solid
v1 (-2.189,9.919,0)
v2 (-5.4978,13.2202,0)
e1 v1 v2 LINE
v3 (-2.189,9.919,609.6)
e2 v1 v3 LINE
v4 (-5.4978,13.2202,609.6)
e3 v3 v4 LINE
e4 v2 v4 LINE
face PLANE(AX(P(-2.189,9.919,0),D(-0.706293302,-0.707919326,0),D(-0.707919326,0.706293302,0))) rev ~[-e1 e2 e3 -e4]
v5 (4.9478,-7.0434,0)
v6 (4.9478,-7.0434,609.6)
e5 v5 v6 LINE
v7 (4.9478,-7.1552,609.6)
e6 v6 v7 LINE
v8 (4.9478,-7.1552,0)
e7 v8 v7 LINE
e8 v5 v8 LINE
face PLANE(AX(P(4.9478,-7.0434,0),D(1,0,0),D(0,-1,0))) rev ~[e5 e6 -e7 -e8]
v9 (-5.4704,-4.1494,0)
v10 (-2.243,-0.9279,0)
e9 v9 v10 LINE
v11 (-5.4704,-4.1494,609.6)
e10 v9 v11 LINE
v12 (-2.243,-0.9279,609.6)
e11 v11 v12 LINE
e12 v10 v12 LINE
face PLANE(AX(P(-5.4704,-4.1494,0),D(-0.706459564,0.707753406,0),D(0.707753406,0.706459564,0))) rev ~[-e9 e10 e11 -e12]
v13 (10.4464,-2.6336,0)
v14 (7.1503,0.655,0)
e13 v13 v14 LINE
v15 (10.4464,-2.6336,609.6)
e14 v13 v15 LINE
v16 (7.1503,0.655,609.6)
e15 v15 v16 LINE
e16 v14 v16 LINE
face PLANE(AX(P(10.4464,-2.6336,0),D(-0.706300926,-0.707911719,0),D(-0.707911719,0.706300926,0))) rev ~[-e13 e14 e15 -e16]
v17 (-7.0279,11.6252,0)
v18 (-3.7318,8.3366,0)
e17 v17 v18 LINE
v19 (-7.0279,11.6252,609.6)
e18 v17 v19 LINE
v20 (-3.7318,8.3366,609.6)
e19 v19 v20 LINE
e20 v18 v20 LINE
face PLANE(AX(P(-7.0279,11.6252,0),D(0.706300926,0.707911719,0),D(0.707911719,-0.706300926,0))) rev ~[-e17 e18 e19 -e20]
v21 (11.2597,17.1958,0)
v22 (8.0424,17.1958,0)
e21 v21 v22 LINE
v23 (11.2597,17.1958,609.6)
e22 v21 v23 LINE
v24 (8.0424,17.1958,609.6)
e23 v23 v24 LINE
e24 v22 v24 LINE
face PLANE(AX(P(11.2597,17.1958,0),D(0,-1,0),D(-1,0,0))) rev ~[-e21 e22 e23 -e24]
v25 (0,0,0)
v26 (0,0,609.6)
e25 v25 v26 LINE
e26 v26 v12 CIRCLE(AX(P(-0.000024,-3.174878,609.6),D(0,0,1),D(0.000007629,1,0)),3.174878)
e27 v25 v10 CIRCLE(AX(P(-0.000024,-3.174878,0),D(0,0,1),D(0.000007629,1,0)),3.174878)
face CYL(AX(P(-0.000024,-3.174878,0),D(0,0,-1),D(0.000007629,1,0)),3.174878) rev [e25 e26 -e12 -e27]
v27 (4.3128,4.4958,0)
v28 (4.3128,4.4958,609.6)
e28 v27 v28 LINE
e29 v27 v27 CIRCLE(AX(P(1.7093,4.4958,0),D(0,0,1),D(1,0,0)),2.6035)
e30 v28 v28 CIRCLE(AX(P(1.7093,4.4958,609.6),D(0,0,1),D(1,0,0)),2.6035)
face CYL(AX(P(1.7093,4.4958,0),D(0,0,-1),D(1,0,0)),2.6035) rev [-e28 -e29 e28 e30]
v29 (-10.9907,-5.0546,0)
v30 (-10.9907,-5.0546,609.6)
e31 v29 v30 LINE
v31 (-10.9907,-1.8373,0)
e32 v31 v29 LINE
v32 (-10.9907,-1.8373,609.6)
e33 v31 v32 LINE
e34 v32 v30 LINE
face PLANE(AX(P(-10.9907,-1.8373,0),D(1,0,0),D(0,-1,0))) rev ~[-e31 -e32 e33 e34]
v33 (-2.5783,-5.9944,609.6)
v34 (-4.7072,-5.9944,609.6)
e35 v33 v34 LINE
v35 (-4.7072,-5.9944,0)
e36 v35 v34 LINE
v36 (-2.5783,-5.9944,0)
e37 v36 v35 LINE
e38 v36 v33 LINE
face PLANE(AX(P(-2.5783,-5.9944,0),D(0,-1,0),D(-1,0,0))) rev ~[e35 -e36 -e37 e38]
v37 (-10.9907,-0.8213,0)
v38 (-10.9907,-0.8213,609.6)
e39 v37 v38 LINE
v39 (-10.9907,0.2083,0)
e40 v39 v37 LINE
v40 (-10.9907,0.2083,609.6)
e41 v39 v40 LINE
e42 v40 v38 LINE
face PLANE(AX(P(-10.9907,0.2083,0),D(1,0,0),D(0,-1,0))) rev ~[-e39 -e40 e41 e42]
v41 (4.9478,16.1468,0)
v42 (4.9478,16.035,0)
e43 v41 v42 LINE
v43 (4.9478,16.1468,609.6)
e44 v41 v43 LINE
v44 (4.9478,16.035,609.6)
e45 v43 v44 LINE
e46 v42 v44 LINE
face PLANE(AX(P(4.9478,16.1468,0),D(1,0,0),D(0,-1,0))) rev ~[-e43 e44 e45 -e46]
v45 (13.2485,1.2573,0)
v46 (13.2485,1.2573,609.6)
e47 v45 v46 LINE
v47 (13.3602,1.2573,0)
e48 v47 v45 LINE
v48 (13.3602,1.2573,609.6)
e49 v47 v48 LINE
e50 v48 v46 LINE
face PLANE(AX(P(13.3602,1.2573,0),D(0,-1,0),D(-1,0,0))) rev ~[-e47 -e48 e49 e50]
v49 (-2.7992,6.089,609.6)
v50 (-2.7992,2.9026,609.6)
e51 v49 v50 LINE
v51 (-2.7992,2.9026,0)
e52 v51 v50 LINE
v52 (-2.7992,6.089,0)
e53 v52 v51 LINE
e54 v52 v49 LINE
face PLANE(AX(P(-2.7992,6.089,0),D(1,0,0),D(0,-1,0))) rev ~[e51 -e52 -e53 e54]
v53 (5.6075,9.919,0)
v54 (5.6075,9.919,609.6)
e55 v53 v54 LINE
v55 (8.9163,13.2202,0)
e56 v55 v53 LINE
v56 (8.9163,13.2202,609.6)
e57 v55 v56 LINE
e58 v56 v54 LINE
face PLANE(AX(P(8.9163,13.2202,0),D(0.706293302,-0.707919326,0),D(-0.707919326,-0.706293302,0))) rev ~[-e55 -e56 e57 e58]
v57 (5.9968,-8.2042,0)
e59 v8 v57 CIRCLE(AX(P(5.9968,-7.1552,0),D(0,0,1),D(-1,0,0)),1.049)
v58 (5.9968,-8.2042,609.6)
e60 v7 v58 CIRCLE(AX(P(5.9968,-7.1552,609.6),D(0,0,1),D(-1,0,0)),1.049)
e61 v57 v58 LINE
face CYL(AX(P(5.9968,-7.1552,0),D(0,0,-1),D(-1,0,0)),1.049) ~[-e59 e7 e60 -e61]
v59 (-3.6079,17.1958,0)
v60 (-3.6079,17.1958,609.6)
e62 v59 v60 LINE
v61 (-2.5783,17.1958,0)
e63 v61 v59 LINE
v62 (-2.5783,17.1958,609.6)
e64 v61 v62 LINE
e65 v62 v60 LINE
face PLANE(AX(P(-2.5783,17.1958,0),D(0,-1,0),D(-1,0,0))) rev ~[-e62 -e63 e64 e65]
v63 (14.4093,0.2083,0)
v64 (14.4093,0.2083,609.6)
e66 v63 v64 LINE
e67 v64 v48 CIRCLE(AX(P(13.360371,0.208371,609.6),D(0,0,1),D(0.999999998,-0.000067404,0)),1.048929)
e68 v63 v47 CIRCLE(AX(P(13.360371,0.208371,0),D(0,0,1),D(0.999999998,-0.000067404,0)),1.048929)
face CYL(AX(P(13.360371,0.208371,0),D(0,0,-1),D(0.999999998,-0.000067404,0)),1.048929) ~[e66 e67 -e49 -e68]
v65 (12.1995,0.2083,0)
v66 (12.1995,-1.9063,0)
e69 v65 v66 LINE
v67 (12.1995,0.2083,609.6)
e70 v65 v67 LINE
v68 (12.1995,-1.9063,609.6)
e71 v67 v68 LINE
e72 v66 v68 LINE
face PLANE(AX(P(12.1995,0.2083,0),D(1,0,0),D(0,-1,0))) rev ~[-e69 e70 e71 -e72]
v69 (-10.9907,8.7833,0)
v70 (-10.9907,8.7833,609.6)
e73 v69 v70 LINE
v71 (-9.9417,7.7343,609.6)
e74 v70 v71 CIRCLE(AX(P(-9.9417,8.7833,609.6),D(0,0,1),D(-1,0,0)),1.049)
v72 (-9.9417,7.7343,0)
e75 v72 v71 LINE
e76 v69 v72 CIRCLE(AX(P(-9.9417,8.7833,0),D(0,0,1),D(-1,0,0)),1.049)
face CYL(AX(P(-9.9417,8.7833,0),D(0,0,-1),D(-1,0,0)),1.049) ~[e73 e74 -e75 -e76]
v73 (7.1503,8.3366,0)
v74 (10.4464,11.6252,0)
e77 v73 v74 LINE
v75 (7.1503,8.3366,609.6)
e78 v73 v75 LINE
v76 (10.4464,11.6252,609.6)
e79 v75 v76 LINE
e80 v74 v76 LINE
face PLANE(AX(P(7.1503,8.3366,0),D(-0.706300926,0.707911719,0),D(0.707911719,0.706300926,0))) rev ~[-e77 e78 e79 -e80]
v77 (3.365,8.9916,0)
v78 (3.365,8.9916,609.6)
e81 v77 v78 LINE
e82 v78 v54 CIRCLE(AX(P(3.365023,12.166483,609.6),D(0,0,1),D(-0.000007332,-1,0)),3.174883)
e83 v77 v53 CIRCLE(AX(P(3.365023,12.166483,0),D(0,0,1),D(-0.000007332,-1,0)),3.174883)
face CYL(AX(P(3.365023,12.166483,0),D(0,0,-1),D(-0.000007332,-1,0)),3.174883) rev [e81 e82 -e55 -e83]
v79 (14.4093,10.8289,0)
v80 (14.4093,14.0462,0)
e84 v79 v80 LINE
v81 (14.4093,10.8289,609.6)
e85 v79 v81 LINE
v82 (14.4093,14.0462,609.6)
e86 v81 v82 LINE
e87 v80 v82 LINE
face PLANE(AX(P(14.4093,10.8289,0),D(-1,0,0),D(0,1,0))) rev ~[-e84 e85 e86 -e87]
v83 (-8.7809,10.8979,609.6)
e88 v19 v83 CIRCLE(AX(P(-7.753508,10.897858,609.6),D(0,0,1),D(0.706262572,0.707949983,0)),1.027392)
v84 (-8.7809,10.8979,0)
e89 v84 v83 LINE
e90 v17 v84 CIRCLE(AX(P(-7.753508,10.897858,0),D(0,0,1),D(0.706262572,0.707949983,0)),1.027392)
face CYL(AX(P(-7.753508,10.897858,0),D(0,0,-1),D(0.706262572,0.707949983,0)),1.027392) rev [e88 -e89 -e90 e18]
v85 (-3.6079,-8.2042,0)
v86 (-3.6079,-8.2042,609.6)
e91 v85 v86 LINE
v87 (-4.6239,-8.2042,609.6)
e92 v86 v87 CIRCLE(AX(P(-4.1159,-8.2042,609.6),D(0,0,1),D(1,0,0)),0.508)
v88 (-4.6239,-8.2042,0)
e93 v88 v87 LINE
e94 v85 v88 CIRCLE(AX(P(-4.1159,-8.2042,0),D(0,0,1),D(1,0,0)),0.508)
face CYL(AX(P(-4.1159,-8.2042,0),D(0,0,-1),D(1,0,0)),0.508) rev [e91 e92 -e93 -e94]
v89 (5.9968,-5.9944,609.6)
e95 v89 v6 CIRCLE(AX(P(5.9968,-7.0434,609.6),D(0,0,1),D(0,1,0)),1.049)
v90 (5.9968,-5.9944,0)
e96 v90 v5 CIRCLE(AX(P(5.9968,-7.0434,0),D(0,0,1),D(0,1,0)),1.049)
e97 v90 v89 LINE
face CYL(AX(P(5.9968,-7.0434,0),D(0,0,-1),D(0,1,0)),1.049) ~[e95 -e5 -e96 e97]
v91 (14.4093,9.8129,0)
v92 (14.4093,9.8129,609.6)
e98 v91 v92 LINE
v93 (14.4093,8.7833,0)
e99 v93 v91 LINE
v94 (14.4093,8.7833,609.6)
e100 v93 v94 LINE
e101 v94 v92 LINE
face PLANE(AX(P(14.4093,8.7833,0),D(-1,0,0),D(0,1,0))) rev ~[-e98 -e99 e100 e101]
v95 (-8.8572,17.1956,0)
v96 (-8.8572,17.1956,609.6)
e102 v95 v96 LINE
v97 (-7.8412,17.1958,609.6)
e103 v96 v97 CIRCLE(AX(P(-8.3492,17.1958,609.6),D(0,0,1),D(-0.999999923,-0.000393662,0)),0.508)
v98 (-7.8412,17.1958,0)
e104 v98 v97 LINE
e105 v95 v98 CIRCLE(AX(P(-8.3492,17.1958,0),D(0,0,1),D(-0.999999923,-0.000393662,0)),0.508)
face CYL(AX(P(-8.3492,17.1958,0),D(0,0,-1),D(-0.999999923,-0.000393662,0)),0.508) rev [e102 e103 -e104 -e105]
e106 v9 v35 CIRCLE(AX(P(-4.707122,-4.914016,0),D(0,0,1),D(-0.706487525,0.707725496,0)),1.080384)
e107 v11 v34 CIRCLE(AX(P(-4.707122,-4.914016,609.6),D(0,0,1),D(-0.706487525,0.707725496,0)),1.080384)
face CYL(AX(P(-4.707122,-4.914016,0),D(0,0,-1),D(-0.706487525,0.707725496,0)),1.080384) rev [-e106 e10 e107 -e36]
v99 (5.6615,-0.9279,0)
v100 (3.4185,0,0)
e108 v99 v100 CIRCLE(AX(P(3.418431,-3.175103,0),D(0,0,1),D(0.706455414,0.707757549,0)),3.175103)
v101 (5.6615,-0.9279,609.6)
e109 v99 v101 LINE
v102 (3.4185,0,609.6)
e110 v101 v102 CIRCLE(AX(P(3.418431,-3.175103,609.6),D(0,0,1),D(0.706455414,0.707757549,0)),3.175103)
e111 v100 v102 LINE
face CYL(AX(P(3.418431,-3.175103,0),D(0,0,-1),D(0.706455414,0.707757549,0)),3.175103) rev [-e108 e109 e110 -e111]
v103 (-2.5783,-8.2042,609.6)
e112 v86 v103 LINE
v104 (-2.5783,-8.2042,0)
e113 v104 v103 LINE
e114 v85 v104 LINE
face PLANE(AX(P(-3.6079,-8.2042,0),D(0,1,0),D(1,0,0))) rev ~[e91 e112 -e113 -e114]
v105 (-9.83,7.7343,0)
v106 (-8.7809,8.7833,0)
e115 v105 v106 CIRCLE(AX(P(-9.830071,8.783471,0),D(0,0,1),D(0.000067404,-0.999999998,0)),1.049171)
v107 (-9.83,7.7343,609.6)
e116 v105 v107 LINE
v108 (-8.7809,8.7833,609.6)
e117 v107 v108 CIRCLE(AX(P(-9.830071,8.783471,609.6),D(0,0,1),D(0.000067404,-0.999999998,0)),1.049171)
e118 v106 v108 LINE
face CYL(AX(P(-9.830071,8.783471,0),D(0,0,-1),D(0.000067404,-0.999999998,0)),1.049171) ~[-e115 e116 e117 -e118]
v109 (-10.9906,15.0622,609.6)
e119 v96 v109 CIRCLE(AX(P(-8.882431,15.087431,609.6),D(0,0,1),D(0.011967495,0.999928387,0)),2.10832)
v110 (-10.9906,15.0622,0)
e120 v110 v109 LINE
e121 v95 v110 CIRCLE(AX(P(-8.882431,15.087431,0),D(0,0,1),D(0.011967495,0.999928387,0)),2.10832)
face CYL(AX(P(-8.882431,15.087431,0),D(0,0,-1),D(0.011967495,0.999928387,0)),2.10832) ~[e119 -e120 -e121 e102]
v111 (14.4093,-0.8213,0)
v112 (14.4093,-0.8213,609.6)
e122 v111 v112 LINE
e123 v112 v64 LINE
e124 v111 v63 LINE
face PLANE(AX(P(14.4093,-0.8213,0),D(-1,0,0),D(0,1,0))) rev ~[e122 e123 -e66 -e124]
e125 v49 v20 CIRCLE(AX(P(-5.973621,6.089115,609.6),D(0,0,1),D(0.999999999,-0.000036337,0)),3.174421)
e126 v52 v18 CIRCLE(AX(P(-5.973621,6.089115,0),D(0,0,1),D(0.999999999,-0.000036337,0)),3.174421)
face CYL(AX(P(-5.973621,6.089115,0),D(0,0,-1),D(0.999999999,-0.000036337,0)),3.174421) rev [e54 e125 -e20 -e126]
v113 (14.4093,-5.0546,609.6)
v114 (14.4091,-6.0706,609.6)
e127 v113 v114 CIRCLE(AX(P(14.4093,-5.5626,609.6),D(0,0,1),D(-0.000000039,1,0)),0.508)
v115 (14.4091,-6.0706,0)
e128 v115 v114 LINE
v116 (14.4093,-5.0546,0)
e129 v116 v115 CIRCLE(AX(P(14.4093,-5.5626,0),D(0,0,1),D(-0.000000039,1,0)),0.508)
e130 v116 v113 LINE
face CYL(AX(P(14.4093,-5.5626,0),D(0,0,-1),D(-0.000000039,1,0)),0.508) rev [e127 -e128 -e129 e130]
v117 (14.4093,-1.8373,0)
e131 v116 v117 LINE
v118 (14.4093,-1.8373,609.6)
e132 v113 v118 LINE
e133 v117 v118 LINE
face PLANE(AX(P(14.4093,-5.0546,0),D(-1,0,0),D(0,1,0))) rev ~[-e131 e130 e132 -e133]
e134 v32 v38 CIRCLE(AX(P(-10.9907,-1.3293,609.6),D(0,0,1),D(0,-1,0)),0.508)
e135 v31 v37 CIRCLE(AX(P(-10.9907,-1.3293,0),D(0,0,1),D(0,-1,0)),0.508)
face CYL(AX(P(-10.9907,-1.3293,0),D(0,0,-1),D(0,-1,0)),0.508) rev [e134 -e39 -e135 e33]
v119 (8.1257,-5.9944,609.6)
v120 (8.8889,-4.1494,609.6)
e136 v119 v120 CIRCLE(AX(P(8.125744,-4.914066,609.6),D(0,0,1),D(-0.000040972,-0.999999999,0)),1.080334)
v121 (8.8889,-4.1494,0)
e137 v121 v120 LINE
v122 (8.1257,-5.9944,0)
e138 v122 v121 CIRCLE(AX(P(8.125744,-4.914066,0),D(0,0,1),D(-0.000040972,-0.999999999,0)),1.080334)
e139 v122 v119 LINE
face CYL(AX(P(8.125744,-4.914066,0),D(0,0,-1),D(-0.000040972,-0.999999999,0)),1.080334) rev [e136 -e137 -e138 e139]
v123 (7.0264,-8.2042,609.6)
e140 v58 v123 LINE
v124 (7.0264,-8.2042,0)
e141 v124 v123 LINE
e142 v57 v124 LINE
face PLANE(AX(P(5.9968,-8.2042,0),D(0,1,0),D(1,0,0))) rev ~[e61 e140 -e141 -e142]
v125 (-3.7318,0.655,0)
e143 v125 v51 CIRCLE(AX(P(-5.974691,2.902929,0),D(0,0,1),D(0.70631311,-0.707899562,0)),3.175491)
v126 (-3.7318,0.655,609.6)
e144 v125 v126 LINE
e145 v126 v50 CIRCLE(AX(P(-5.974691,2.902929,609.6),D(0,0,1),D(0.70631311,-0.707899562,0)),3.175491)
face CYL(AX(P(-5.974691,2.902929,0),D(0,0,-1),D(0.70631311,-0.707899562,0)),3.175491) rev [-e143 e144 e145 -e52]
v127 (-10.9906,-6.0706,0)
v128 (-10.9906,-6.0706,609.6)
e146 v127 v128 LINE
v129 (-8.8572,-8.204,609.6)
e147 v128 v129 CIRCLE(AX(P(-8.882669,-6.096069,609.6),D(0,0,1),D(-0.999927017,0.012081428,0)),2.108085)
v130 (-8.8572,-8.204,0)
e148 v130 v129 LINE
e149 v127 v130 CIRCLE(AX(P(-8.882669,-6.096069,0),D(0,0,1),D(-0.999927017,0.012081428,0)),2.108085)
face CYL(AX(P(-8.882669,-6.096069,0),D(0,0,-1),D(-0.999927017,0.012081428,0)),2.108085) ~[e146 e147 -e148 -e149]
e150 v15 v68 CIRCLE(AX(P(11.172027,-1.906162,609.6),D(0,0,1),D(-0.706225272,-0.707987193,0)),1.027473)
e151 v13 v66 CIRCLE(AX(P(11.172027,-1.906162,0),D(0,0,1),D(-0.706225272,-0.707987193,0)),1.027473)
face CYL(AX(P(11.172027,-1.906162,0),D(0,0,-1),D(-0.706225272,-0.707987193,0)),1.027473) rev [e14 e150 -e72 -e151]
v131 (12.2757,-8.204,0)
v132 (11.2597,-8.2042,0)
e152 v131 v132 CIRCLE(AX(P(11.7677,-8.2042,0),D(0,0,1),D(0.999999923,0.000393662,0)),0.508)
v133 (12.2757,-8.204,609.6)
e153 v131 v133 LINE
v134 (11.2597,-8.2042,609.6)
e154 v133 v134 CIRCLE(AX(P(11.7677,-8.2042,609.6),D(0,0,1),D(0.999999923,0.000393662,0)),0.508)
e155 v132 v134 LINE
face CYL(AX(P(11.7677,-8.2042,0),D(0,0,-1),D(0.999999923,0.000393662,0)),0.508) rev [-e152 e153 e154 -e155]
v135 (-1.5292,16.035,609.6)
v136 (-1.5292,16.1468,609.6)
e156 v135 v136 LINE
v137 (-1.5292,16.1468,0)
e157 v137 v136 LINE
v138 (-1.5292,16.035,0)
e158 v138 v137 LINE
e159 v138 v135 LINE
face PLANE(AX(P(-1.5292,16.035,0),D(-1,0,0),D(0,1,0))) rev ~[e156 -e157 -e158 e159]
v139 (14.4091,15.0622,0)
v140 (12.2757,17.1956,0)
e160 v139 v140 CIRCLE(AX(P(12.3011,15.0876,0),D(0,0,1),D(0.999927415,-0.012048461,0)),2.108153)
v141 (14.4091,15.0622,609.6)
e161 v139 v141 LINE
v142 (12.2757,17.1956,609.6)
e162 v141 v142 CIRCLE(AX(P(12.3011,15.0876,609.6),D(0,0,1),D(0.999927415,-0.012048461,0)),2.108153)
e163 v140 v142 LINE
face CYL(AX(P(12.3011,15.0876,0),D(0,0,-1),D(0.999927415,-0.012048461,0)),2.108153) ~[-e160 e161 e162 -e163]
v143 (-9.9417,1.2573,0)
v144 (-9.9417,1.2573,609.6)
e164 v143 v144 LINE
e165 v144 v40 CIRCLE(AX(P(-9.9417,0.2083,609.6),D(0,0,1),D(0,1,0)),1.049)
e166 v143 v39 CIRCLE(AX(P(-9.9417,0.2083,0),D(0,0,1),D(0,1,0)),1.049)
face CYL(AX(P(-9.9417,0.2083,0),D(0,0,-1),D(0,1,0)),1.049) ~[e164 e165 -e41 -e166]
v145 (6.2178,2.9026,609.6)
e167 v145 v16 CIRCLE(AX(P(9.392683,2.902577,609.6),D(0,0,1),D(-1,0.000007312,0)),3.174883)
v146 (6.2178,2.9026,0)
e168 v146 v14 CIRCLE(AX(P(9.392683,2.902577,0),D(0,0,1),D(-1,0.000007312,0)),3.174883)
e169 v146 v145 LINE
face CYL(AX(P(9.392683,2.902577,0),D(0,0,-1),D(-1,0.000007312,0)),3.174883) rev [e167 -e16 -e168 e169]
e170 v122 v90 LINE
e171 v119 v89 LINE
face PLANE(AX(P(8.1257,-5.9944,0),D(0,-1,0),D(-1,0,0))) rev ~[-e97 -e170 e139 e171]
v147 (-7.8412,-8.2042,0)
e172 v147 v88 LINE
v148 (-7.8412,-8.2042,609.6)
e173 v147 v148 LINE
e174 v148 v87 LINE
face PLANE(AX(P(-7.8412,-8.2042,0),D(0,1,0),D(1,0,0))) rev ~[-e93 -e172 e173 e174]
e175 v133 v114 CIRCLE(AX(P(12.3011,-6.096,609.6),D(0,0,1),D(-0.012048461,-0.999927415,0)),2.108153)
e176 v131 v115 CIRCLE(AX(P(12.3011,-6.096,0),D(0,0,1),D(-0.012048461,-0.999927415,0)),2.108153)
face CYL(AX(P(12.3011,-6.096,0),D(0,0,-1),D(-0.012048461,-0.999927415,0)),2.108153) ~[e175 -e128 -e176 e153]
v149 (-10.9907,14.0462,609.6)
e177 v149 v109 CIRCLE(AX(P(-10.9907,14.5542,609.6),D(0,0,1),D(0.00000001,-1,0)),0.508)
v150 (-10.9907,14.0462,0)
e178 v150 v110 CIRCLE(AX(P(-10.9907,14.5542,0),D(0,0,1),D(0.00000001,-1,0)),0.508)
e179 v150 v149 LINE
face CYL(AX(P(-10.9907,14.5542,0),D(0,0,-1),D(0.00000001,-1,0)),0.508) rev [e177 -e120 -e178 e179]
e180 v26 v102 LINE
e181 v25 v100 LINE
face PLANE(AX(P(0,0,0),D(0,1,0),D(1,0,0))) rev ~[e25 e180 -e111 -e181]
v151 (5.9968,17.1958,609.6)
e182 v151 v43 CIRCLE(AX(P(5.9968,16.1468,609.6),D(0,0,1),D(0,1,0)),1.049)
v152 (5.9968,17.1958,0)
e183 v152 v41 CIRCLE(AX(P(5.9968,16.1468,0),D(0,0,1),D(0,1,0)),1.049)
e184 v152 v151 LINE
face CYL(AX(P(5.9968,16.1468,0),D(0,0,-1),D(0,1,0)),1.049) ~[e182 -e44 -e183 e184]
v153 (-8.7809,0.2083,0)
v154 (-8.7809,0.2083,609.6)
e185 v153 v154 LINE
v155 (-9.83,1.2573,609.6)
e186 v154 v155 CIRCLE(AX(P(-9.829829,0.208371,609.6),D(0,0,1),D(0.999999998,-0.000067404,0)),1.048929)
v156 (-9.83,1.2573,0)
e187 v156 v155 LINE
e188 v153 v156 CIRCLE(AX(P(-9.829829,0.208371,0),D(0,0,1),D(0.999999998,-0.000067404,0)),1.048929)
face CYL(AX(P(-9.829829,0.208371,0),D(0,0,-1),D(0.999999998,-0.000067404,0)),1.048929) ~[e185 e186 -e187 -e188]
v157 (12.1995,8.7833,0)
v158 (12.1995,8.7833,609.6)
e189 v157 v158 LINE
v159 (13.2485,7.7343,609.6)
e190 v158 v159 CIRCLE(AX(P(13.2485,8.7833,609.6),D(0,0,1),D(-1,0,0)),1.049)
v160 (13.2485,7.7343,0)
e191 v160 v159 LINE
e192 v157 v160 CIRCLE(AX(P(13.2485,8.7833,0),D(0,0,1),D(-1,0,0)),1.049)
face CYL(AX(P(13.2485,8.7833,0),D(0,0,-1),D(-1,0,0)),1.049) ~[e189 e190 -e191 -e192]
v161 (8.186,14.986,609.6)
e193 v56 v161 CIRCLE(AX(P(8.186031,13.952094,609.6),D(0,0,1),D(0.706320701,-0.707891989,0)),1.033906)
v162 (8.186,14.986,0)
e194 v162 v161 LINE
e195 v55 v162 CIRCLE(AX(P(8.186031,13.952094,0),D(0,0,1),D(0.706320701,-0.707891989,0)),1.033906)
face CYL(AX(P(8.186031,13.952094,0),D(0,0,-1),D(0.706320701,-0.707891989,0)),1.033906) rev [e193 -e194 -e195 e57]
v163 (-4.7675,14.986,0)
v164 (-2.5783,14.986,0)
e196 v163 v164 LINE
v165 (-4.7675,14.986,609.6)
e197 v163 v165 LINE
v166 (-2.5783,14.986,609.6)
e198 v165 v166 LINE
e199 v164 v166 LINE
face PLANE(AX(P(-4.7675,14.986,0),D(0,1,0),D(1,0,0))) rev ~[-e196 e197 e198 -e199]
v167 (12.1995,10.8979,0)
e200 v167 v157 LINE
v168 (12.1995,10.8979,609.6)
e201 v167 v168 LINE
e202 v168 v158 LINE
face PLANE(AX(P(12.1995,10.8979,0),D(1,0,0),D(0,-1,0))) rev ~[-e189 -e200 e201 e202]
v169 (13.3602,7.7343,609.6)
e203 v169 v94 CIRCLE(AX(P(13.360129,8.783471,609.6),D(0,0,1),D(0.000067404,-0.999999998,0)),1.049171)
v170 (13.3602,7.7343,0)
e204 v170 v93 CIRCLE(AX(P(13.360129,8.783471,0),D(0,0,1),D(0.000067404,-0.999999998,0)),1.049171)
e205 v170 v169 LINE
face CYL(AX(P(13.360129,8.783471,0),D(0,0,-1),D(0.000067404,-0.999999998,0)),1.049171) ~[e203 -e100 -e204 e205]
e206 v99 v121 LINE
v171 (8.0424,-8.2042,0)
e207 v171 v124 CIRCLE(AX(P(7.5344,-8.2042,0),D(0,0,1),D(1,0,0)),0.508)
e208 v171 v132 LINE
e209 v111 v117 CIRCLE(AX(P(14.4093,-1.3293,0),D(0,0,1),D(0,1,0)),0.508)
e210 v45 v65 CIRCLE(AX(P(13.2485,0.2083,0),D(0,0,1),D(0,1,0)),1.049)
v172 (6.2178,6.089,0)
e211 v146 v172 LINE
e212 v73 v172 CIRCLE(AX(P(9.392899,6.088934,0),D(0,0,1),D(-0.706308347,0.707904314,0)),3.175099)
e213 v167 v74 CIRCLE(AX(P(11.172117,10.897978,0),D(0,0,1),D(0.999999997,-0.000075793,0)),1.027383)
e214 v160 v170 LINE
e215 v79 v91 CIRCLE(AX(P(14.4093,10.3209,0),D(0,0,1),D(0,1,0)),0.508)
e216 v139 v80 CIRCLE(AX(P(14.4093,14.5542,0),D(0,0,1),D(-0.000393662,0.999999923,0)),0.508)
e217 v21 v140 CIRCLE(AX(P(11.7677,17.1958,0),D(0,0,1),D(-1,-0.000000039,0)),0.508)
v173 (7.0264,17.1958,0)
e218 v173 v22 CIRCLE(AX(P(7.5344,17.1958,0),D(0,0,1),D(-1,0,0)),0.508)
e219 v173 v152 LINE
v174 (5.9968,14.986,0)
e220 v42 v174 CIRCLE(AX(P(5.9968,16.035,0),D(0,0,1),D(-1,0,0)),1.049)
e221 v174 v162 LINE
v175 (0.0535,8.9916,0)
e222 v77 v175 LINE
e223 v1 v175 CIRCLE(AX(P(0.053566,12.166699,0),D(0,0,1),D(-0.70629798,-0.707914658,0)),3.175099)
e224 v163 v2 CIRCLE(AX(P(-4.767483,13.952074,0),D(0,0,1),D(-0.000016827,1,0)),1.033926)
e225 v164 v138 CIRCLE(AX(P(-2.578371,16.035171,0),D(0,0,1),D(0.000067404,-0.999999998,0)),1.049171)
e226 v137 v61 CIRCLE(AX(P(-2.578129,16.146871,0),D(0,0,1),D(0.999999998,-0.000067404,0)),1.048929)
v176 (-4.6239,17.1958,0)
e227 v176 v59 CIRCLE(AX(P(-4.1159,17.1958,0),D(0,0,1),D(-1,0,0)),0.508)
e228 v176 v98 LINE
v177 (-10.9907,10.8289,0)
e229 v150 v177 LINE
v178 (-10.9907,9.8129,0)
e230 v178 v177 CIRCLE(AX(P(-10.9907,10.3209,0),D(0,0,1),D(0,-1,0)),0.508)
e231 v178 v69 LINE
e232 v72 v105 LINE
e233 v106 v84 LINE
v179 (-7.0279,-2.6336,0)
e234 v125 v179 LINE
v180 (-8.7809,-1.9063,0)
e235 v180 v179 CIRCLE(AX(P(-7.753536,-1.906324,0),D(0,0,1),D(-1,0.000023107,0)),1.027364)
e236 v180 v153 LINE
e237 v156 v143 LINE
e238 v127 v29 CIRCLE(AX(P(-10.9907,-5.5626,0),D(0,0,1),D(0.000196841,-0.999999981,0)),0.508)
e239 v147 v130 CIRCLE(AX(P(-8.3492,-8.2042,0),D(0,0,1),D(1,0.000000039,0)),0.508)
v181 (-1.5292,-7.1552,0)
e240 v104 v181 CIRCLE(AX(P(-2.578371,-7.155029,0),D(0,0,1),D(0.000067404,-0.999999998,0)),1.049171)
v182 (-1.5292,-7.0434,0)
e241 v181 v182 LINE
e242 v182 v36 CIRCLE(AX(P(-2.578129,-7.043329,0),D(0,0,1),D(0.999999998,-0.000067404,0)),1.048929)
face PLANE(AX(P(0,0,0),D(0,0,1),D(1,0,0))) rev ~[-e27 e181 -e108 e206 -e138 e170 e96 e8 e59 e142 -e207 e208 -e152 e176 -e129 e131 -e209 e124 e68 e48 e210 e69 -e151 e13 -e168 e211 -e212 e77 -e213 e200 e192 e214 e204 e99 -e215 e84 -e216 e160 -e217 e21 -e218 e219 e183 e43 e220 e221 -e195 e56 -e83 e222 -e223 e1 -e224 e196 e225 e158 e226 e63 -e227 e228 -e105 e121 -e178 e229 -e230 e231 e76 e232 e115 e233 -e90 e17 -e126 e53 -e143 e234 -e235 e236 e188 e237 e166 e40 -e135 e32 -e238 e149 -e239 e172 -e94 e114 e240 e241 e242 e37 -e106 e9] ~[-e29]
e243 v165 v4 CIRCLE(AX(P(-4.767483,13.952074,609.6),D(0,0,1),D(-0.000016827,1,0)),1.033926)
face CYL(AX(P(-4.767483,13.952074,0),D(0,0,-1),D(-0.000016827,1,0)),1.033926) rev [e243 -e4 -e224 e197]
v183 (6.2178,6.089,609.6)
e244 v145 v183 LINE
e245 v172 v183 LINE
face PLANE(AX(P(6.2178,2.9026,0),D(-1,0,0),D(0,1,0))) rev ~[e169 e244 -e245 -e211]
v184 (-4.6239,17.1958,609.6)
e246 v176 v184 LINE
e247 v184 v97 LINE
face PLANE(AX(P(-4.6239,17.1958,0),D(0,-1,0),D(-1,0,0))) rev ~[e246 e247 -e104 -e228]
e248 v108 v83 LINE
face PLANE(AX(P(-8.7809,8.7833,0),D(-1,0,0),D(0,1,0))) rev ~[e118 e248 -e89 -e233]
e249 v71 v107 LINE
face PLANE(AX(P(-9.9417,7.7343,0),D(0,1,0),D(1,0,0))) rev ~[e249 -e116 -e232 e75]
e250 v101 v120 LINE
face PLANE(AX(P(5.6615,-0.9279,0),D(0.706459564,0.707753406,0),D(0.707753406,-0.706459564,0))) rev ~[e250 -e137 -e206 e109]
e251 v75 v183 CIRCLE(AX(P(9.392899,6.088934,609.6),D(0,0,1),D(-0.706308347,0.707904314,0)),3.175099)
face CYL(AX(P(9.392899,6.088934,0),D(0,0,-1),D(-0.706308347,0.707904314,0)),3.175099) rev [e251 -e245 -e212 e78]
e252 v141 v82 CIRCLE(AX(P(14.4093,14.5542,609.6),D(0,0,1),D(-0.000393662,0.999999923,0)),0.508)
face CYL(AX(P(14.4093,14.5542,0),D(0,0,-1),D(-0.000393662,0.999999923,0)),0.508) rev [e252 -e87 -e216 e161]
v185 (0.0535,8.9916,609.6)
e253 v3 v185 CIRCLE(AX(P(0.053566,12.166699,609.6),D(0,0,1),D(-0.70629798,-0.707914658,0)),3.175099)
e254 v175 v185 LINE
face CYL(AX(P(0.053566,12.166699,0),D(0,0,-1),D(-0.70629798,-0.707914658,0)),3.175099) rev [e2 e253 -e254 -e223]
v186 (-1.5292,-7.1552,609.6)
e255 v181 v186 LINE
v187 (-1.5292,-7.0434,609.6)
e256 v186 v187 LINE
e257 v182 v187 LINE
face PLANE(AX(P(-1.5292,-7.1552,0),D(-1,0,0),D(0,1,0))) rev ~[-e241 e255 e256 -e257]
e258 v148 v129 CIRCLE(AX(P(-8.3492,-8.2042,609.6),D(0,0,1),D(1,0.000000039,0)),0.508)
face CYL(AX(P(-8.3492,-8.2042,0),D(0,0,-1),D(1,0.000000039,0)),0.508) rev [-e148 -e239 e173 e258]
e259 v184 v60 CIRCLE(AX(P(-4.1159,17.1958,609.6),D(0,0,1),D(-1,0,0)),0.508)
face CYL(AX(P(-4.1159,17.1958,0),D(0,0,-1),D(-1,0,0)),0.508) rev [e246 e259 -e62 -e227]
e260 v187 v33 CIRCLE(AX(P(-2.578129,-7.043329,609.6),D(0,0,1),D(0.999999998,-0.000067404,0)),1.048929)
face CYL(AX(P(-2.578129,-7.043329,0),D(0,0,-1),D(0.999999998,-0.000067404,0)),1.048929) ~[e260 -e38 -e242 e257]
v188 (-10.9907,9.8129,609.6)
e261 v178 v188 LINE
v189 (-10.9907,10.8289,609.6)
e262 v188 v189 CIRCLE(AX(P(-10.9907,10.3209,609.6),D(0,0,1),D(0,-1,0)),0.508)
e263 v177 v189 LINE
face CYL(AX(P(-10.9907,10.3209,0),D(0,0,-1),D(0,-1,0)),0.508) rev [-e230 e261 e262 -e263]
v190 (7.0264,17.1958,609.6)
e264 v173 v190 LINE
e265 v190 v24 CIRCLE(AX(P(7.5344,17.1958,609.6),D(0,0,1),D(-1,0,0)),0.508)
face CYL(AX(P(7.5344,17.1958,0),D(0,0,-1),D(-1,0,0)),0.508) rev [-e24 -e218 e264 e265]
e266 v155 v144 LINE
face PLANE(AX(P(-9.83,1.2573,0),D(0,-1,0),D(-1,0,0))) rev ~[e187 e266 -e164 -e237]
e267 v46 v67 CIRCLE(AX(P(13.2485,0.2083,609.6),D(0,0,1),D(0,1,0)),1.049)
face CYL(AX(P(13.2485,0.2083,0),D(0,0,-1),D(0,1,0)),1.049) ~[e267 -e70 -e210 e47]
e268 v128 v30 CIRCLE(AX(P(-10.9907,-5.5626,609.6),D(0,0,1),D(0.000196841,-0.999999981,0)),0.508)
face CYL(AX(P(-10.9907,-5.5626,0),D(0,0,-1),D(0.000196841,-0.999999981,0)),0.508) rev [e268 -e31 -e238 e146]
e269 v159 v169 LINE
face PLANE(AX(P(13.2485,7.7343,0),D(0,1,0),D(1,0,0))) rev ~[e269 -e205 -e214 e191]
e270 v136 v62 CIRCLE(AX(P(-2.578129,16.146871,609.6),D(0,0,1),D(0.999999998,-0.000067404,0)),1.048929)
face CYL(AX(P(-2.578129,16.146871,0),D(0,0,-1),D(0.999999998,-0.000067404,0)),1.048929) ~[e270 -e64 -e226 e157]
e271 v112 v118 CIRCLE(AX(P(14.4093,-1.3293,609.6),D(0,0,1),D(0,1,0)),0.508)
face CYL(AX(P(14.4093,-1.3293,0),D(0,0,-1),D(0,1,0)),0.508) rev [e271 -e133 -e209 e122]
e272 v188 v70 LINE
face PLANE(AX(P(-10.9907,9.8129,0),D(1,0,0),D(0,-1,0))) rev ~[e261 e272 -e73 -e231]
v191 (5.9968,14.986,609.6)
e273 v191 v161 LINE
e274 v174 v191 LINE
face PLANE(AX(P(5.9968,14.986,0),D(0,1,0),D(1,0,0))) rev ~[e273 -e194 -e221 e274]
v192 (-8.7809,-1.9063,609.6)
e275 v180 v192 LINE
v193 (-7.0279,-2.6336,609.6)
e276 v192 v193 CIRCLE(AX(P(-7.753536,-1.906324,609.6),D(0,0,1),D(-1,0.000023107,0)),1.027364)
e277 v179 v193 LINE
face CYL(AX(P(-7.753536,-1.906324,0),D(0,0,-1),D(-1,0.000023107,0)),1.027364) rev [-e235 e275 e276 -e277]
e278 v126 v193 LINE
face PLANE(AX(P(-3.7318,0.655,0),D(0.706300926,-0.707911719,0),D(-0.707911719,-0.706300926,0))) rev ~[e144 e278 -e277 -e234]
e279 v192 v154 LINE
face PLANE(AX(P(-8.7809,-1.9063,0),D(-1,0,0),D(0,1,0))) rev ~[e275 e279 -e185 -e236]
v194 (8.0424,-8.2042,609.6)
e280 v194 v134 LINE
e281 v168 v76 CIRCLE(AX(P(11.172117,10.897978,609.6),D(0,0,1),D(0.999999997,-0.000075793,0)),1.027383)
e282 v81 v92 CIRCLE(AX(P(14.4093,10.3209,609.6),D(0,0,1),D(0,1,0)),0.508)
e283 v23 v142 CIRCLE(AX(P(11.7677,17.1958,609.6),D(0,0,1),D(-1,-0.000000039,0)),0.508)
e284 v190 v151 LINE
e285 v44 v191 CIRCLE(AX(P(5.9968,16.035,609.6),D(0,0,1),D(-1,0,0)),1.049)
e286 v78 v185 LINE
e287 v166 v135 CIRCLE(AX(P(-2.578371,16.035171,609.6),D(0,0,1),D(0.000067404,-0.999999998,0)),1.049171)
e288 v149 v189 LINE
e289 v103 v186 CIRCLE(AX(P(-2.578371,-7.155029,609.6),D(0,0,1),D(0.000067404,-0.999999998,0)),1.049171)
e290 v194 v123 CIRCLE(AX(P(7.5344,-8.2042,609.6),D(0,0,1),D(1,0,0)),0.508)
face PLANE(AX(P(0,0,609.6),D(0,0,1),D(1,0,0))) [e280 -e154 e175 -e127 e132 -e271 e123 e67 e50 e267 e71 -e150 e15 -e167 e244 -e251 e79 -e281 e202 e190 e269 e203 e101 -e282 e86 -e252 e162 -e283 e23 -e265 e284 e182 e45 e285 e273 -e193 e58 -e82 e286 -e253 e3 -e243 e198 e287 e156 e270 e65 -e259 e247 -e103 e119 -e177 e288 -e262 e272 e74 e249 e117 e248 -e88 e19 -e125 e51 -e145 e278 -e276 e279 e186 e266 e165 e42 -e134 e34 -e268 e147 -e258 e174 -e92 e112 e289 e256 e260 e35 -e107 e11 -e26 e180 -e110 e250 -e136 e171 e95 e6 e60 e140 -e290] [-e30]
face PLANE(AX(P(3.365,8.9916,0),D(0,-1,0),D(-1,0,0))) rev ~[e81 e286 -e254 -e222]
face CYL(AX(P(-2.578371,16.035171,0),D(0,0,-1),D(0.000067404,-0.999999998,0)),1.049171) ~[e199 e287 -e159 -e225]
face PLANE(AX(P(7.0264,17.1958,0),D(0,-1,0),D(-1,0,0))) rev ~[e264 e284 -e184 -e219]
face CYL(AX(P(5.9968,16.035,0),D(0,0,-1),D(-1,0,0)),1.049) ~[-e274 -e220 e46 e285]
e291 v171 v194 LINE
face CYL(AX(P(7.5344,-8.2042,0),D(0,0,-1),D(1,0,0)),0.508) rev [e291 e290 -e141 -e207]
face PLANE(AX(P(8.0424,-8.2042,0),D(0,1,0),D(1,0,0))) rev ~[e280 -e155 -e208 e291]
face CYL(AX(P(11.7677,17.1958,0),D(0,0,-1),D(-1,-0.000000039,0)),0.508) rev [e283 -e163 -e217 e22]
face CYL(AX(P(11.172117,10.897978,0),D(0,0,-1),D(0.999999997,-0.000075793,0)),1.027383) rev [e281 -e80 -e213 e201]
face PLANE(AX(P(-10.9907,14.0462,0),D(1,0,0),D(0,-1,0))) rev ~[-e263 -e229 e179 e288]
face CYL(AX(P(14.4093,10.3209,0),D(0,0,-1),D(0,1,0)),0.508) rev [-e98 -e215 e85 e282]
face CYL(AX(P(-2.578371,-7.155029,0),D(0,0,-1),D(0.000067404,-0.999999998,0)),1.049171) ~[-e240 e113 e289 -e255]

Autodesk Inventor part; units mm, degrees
ref_plane "YZ Plane" through (0, 0, 0) normal (1, 0, 0) x (0, 1, 0)
ref_plane "XZ Plane" through (0, 0, 0) normal (0, 1, 0) x (-1, 0, 0)
ref_plane "XY Plane" through (0, 0, 0) normal (0, 0, 1) x (1, 0, 0)
sketch "Sketch1" plane through (0, 0, 0) normal (0, 0, 1) x (1, 0, 0)
  arc A0 (-5.4704, -4.1494) -> (-4.7072, -5.9944) centre (-4.7072, -4.914) ccw
  line L0 (-5.4704, -4.1494) -> (-2.243, -0.9279)
  arc A1 (0, 0) -> (-2.243, -0.9279) centre (0, -3.175) ccw
  line L1 (0, 0) -> (3.4185, 0)
  arc A2 (5.6615, -0.9279) -> (3.4185, 0) centre (3.4185, -3.175) ccw
  line L2 (5.6615, -0.9279) -> (8.8889, -4.1494)
  arc A3 (8.1257, -5.9944) -> (8.8889, -4.1494) centre (8.1257, -4.914) ccw
  line L3 (8.1257, -5.9944) -> (5.9968, -5.9944)
  arc A4 (5.9968, -5.9944) -> (4.9478, -7.0434) centre (5.9968, -7.0434) ccw
  line L4 (4.9478, -7.0434) -> (4.9478, -7.1552)
  arc A5 (4.9478, -7.1552) -> (5.9968, -8.2042) centre (5.9968, -7.1552) ccw
  line L5 (5.9968, -8.2042) -> (7.0264, -8.2042)
  arc A6 (8.0424, -8.2042) -> (7.0264, -8.2042) centre (7.5344, -8.2042) ccw
  line L6 (8.0424, -8.2042) -> (11.2597, -8.2042)
  arc A7 (12.2757, -8.204) -> (11.2597, -8.2042) centre (11.7677, -8.2042) ccw
  arc A8 (12.2757, -8.204) -> (14.4091, -6.0706) centre (12.3011, -6.096) ccw
  arc A9 (14.4093, -5.0546) -> (14.4091, -6.0706) centre (14.4093, -5.5626) ccw
  line L7 (14.4093, -5.0546) -> (14.4093, -1.8373)
  arc A10 (14.4093, -0.8213) -> (14.4093, -1.8373) centre (14.4093, -1.3293) ccw
  line L8 (14.4093, -0.8213) -> (14.4093, 0.2083)
  arc A11 (14.4093, 0.2083) -> (13.3602, 1.2573) centre (13.3602, 0.2083) ccw
  line L9 (13.3602, 1.2573) -> (13.2485, 1.2573)
  arc A12 (13.2485, 1.2573) -> (12.1995, 0.2083) centre (13.2485, 0.2083) ccw
  line L10 (12.1995, 0.2083) -> (12.1995, -1.9063)
  arc A13 (10.4464, -2.6336) -> (12.1995, -1.9063) centre (11.172, -1.9063) ccw
  line L11 (10.4464, -2.6336) -> (7.1503, 0.655)
  arc A14 (6.2178, 2.9026) -> (7.1503, 0.655) centre (9.3928, 2.9026) ccw
  line L12 (6.2178, 2.9026) -> (6.2178, 6.089)
  arc A15 (7.1503, 8.3366) -> (6.2178, 6.089) centre (9.3928, 6.089) ccw
  line L13 (7.1503, 8.3366) -> (10.4464, 11.6252)
  arc A16 (12.1995, 10.8979) -> (10.4464, 11.6252) centre (11.172, 10.8979) ccw
  line L14 (12.1995, 10.8979) -> (12.1995, 8.7833)
  arc A17 (12.1995, 8.7833) -> (13.2485, 7.7343) centre (13.2485, 8.7833) ccw
  line L15 (13.2485, 7.7343) -> (13.3602, 7.7343)
  arc A18 (13.3602, 7.7343) -> (14.4093, 8.7833) centre (13.3602, 8.7833) ccw
  line L16 (14.4093, 8.7833) -> (14.4093, 9.8129)
  arc A19 (14.4093, 10.8289) -> (14.4093, 9.8129) centre (14.4093, 10.3209) ccw
  line L17 (14.4093, 10.8289) -> (14.4093, 14.0462)
  arc A20 (14.4091, 15.0622) -> (14.4093, 14.0462) centre (14.4093, 14.5542) ccw
  arc A21 (14.4091, 15.0622) -> (12.2757, 17.1956) centre (12.3011, 15.0876) ccw
  arc A22 (11.2597, 17.1958) -> (12.2757, 17.1956) centre (11.7677, 17.1958) ccw
  line L18 (11.2597, 17.1958) -> (8.0424, 17.1958)
  arc A23 (7.0264, 17.1958) -> (8.0424, 17.1958) centre (7.5344, 17.1958) ccw
  line L19 (7.0264, 17.1958) -> (5.9968, 17.1958)
  arc A24 (5.9968, 17.1958) -> (4.9478, 16.1468) centre (5.9968, 16.1468) ccw
  line L20 (4.9478, 16.1468) -> (4.9478, 16.035)
  arc A25 (4.9478, 16.035) -> (5.9968, 14.986) centre (5.9968, 16.035) ccw
  line L21 (5.9968, 14.986) -> (8.186, 14.986)
  arc A26 (8.9163, 13.2202) -> (8.186, 14.986) centre (8.186, 13.9521) ccw
  line L22 (8.9163, 13.2202) -> (5.6075, 9.919)
  arc A27 (3.365, 8.9916) -> (5.6075, 9.919) centre (3.365, 12.1666) ccw
  line L23 (3.365, 8.9916) -> (0.0535, 8.9916)
  arc A28 (-2.189, 9.919) -> (0.0535, 8.9916) centre (0.0535, 12.1666) ccw
  line L24 (-2.189, 9.919) -> (-5.4978, 13.2202)
  arc A29 (-4.7675, 14.986) -> (-5.4978, 13.2202) centre (-4.7675, 13.9521) ccw
  line L25 (-4.7675, 14.986) -> (-2.5783, 14.986)
  arc A30 (-2.5783, 14.986) -> (-1.5292, 16.035) centre (-2.5783, 16.035) ccw
  line L26 (-1.5292, 16.035) -> (-1.5292, 16.1468)
  arc A31 (-1.5292, 16.1468) -> (-2.5783, 17.1958) centre (-2.5783, 16.1468) ccw
  line L27 (-2.5783, 17.1958) -> (-3.6079, 17.1958)
  arc A32 (-4.6239, 17.1958) -> (-3.6079, 17.1958) centre (-4.1159, 17.1958) ccw
  line L28 (-4.6239, 17.1958) -> (-7.8412, 17.1958)
  arc A33 (-8.8572, 17.1956) -> (-7.8412, 17.1958) centre (-8.3492, 17.1958) ccw
  arc A34 (-8.8572, 17.1956) -> (-10.9906, 15.0622) centre (-8.8825, 15.0876) ccw
  arc A35 (-10.9907, 14.0462) -> (-10.9906, 15.0622) centre (-10.9907, 14.5542) ccw
  line L29 (-10.9907, 14.0462) -> (-10.9907, 10.8289)
  arc A36 (-10.9907, 9.8129) -> (-10.9907, 10.8289) centre (-10.9907, 10.3209) ccw
  line L30 (-10.9907, 9.8129) -> (-10.9907, 8.7833)
  arc A37 (-10.9907, 8.7833) -> (-9.9417, 7.7343) centre (-9.9417, 8.7833) ccw
  line L31 (-9.9417, 7.7343) -> (-9.83, 7.7343)
  arc A38 (-9.83, 7.7343) -> (-8.7809, 8.7833) centre (-9.83, 8.7833) ccw
  line L32 (-8.7809, 8.7833) -> (-8.7809, 10.8979)
  arc A39 (-7.0279, 11.6252) -> (-8.7809, 10.8979) centre (-7.7535, 10.8979) ccw
  line L33 (-7.0279, 11.6252) -> (-3.7318, 8.3366)
  arc A40 (-2.7992, 6.089) -> (-3.7318, 8.3366) centre (-5.9742, 6.089) ccw
  line L34 (-2.7992, 6.089) -> (-2.7992, 2.9026)
  arc A41 (-3.7318, 0.655) -> (-2.7992, 2.9026) centre (-5.9742, 2.9026) ccw
  line L35 (-3.7318, 0.655) -> (-7.0279, -2.6336)
  arc A42 (-8.7809, -1.9063) -> (-7.0279, -2.6336) centre (-7.7535, -1.9063) ccw
  line L36 (-8.7809, -1.9063) -> (-8.7809, 0.2083)
  arc A43 (-8.7809, 0.2083) -> (-9.83, 1.2573) centre (-9.83, 0.2083) ccw
  line L37 (-9.83, 1.2573) -> (-9.9417, 1.2573)
  arc A44 (-9.9417, 1.2573) -> (-10.9907, 0.2083) centre (-9.9417, 0.2083) ccw
  line L38 (-10.9907, 0.2083) -> (-10.9907, -0.8213)
  arc A45 (-10.9907, -1.8373) -> (-10.9907, -0.8213) centre (-10.9907, -1.3293) ccw
  line L39 (-10.9907, -1.8373) -> (-10.9907, -5.0546)
  arc A46 (-10.9906, -6.0706) -> (-10.9907, -5.0546) centre (-10.9907, -5.5626) ccw
  arc A47 (-10.9906, -6.0706) -> (-8.8572, -8.204) centre (-8.8825, -6.096) ccw
  arc A48 (-7.8412, -8.2042) -> (-8.8572, -8.204) centre (-8.3492, -8.2042) ccw
  line L40 (-7.8412, -8.2042) -> (-4.6239, -8.2042)
  arc A49 (-3.6079, -8.2042) -> (-4.6239, -8.2042) centre (-4.1159, -8.2042) ccw
  line L41 (-3.6079, -8.2042) -> (-2.5783, -8.2042)
  arc A50 (-2.5783, -8.2042) -> (-1.5292, -7.1552) centre (-2.5783, -7.1552) ccw
  line L42 (-1.5292, -7.1552) -> (-1.5292, -7.0434)
  arc A51 (-1.5292, -7.0434) -> (-2.5783, -5.9944) centre (-2.5783, -7.0434) ccw
  line L43 (-2.5783, -5.9944) -> (-4.7072, -5.9944)
  circle A52 centre (1.7093, 4.4958) radius 2.6035
extrude "Extrusion1" add sketch "Sketch1" along normal blind 609.6
properties part number "24in 1x1 T slot"
